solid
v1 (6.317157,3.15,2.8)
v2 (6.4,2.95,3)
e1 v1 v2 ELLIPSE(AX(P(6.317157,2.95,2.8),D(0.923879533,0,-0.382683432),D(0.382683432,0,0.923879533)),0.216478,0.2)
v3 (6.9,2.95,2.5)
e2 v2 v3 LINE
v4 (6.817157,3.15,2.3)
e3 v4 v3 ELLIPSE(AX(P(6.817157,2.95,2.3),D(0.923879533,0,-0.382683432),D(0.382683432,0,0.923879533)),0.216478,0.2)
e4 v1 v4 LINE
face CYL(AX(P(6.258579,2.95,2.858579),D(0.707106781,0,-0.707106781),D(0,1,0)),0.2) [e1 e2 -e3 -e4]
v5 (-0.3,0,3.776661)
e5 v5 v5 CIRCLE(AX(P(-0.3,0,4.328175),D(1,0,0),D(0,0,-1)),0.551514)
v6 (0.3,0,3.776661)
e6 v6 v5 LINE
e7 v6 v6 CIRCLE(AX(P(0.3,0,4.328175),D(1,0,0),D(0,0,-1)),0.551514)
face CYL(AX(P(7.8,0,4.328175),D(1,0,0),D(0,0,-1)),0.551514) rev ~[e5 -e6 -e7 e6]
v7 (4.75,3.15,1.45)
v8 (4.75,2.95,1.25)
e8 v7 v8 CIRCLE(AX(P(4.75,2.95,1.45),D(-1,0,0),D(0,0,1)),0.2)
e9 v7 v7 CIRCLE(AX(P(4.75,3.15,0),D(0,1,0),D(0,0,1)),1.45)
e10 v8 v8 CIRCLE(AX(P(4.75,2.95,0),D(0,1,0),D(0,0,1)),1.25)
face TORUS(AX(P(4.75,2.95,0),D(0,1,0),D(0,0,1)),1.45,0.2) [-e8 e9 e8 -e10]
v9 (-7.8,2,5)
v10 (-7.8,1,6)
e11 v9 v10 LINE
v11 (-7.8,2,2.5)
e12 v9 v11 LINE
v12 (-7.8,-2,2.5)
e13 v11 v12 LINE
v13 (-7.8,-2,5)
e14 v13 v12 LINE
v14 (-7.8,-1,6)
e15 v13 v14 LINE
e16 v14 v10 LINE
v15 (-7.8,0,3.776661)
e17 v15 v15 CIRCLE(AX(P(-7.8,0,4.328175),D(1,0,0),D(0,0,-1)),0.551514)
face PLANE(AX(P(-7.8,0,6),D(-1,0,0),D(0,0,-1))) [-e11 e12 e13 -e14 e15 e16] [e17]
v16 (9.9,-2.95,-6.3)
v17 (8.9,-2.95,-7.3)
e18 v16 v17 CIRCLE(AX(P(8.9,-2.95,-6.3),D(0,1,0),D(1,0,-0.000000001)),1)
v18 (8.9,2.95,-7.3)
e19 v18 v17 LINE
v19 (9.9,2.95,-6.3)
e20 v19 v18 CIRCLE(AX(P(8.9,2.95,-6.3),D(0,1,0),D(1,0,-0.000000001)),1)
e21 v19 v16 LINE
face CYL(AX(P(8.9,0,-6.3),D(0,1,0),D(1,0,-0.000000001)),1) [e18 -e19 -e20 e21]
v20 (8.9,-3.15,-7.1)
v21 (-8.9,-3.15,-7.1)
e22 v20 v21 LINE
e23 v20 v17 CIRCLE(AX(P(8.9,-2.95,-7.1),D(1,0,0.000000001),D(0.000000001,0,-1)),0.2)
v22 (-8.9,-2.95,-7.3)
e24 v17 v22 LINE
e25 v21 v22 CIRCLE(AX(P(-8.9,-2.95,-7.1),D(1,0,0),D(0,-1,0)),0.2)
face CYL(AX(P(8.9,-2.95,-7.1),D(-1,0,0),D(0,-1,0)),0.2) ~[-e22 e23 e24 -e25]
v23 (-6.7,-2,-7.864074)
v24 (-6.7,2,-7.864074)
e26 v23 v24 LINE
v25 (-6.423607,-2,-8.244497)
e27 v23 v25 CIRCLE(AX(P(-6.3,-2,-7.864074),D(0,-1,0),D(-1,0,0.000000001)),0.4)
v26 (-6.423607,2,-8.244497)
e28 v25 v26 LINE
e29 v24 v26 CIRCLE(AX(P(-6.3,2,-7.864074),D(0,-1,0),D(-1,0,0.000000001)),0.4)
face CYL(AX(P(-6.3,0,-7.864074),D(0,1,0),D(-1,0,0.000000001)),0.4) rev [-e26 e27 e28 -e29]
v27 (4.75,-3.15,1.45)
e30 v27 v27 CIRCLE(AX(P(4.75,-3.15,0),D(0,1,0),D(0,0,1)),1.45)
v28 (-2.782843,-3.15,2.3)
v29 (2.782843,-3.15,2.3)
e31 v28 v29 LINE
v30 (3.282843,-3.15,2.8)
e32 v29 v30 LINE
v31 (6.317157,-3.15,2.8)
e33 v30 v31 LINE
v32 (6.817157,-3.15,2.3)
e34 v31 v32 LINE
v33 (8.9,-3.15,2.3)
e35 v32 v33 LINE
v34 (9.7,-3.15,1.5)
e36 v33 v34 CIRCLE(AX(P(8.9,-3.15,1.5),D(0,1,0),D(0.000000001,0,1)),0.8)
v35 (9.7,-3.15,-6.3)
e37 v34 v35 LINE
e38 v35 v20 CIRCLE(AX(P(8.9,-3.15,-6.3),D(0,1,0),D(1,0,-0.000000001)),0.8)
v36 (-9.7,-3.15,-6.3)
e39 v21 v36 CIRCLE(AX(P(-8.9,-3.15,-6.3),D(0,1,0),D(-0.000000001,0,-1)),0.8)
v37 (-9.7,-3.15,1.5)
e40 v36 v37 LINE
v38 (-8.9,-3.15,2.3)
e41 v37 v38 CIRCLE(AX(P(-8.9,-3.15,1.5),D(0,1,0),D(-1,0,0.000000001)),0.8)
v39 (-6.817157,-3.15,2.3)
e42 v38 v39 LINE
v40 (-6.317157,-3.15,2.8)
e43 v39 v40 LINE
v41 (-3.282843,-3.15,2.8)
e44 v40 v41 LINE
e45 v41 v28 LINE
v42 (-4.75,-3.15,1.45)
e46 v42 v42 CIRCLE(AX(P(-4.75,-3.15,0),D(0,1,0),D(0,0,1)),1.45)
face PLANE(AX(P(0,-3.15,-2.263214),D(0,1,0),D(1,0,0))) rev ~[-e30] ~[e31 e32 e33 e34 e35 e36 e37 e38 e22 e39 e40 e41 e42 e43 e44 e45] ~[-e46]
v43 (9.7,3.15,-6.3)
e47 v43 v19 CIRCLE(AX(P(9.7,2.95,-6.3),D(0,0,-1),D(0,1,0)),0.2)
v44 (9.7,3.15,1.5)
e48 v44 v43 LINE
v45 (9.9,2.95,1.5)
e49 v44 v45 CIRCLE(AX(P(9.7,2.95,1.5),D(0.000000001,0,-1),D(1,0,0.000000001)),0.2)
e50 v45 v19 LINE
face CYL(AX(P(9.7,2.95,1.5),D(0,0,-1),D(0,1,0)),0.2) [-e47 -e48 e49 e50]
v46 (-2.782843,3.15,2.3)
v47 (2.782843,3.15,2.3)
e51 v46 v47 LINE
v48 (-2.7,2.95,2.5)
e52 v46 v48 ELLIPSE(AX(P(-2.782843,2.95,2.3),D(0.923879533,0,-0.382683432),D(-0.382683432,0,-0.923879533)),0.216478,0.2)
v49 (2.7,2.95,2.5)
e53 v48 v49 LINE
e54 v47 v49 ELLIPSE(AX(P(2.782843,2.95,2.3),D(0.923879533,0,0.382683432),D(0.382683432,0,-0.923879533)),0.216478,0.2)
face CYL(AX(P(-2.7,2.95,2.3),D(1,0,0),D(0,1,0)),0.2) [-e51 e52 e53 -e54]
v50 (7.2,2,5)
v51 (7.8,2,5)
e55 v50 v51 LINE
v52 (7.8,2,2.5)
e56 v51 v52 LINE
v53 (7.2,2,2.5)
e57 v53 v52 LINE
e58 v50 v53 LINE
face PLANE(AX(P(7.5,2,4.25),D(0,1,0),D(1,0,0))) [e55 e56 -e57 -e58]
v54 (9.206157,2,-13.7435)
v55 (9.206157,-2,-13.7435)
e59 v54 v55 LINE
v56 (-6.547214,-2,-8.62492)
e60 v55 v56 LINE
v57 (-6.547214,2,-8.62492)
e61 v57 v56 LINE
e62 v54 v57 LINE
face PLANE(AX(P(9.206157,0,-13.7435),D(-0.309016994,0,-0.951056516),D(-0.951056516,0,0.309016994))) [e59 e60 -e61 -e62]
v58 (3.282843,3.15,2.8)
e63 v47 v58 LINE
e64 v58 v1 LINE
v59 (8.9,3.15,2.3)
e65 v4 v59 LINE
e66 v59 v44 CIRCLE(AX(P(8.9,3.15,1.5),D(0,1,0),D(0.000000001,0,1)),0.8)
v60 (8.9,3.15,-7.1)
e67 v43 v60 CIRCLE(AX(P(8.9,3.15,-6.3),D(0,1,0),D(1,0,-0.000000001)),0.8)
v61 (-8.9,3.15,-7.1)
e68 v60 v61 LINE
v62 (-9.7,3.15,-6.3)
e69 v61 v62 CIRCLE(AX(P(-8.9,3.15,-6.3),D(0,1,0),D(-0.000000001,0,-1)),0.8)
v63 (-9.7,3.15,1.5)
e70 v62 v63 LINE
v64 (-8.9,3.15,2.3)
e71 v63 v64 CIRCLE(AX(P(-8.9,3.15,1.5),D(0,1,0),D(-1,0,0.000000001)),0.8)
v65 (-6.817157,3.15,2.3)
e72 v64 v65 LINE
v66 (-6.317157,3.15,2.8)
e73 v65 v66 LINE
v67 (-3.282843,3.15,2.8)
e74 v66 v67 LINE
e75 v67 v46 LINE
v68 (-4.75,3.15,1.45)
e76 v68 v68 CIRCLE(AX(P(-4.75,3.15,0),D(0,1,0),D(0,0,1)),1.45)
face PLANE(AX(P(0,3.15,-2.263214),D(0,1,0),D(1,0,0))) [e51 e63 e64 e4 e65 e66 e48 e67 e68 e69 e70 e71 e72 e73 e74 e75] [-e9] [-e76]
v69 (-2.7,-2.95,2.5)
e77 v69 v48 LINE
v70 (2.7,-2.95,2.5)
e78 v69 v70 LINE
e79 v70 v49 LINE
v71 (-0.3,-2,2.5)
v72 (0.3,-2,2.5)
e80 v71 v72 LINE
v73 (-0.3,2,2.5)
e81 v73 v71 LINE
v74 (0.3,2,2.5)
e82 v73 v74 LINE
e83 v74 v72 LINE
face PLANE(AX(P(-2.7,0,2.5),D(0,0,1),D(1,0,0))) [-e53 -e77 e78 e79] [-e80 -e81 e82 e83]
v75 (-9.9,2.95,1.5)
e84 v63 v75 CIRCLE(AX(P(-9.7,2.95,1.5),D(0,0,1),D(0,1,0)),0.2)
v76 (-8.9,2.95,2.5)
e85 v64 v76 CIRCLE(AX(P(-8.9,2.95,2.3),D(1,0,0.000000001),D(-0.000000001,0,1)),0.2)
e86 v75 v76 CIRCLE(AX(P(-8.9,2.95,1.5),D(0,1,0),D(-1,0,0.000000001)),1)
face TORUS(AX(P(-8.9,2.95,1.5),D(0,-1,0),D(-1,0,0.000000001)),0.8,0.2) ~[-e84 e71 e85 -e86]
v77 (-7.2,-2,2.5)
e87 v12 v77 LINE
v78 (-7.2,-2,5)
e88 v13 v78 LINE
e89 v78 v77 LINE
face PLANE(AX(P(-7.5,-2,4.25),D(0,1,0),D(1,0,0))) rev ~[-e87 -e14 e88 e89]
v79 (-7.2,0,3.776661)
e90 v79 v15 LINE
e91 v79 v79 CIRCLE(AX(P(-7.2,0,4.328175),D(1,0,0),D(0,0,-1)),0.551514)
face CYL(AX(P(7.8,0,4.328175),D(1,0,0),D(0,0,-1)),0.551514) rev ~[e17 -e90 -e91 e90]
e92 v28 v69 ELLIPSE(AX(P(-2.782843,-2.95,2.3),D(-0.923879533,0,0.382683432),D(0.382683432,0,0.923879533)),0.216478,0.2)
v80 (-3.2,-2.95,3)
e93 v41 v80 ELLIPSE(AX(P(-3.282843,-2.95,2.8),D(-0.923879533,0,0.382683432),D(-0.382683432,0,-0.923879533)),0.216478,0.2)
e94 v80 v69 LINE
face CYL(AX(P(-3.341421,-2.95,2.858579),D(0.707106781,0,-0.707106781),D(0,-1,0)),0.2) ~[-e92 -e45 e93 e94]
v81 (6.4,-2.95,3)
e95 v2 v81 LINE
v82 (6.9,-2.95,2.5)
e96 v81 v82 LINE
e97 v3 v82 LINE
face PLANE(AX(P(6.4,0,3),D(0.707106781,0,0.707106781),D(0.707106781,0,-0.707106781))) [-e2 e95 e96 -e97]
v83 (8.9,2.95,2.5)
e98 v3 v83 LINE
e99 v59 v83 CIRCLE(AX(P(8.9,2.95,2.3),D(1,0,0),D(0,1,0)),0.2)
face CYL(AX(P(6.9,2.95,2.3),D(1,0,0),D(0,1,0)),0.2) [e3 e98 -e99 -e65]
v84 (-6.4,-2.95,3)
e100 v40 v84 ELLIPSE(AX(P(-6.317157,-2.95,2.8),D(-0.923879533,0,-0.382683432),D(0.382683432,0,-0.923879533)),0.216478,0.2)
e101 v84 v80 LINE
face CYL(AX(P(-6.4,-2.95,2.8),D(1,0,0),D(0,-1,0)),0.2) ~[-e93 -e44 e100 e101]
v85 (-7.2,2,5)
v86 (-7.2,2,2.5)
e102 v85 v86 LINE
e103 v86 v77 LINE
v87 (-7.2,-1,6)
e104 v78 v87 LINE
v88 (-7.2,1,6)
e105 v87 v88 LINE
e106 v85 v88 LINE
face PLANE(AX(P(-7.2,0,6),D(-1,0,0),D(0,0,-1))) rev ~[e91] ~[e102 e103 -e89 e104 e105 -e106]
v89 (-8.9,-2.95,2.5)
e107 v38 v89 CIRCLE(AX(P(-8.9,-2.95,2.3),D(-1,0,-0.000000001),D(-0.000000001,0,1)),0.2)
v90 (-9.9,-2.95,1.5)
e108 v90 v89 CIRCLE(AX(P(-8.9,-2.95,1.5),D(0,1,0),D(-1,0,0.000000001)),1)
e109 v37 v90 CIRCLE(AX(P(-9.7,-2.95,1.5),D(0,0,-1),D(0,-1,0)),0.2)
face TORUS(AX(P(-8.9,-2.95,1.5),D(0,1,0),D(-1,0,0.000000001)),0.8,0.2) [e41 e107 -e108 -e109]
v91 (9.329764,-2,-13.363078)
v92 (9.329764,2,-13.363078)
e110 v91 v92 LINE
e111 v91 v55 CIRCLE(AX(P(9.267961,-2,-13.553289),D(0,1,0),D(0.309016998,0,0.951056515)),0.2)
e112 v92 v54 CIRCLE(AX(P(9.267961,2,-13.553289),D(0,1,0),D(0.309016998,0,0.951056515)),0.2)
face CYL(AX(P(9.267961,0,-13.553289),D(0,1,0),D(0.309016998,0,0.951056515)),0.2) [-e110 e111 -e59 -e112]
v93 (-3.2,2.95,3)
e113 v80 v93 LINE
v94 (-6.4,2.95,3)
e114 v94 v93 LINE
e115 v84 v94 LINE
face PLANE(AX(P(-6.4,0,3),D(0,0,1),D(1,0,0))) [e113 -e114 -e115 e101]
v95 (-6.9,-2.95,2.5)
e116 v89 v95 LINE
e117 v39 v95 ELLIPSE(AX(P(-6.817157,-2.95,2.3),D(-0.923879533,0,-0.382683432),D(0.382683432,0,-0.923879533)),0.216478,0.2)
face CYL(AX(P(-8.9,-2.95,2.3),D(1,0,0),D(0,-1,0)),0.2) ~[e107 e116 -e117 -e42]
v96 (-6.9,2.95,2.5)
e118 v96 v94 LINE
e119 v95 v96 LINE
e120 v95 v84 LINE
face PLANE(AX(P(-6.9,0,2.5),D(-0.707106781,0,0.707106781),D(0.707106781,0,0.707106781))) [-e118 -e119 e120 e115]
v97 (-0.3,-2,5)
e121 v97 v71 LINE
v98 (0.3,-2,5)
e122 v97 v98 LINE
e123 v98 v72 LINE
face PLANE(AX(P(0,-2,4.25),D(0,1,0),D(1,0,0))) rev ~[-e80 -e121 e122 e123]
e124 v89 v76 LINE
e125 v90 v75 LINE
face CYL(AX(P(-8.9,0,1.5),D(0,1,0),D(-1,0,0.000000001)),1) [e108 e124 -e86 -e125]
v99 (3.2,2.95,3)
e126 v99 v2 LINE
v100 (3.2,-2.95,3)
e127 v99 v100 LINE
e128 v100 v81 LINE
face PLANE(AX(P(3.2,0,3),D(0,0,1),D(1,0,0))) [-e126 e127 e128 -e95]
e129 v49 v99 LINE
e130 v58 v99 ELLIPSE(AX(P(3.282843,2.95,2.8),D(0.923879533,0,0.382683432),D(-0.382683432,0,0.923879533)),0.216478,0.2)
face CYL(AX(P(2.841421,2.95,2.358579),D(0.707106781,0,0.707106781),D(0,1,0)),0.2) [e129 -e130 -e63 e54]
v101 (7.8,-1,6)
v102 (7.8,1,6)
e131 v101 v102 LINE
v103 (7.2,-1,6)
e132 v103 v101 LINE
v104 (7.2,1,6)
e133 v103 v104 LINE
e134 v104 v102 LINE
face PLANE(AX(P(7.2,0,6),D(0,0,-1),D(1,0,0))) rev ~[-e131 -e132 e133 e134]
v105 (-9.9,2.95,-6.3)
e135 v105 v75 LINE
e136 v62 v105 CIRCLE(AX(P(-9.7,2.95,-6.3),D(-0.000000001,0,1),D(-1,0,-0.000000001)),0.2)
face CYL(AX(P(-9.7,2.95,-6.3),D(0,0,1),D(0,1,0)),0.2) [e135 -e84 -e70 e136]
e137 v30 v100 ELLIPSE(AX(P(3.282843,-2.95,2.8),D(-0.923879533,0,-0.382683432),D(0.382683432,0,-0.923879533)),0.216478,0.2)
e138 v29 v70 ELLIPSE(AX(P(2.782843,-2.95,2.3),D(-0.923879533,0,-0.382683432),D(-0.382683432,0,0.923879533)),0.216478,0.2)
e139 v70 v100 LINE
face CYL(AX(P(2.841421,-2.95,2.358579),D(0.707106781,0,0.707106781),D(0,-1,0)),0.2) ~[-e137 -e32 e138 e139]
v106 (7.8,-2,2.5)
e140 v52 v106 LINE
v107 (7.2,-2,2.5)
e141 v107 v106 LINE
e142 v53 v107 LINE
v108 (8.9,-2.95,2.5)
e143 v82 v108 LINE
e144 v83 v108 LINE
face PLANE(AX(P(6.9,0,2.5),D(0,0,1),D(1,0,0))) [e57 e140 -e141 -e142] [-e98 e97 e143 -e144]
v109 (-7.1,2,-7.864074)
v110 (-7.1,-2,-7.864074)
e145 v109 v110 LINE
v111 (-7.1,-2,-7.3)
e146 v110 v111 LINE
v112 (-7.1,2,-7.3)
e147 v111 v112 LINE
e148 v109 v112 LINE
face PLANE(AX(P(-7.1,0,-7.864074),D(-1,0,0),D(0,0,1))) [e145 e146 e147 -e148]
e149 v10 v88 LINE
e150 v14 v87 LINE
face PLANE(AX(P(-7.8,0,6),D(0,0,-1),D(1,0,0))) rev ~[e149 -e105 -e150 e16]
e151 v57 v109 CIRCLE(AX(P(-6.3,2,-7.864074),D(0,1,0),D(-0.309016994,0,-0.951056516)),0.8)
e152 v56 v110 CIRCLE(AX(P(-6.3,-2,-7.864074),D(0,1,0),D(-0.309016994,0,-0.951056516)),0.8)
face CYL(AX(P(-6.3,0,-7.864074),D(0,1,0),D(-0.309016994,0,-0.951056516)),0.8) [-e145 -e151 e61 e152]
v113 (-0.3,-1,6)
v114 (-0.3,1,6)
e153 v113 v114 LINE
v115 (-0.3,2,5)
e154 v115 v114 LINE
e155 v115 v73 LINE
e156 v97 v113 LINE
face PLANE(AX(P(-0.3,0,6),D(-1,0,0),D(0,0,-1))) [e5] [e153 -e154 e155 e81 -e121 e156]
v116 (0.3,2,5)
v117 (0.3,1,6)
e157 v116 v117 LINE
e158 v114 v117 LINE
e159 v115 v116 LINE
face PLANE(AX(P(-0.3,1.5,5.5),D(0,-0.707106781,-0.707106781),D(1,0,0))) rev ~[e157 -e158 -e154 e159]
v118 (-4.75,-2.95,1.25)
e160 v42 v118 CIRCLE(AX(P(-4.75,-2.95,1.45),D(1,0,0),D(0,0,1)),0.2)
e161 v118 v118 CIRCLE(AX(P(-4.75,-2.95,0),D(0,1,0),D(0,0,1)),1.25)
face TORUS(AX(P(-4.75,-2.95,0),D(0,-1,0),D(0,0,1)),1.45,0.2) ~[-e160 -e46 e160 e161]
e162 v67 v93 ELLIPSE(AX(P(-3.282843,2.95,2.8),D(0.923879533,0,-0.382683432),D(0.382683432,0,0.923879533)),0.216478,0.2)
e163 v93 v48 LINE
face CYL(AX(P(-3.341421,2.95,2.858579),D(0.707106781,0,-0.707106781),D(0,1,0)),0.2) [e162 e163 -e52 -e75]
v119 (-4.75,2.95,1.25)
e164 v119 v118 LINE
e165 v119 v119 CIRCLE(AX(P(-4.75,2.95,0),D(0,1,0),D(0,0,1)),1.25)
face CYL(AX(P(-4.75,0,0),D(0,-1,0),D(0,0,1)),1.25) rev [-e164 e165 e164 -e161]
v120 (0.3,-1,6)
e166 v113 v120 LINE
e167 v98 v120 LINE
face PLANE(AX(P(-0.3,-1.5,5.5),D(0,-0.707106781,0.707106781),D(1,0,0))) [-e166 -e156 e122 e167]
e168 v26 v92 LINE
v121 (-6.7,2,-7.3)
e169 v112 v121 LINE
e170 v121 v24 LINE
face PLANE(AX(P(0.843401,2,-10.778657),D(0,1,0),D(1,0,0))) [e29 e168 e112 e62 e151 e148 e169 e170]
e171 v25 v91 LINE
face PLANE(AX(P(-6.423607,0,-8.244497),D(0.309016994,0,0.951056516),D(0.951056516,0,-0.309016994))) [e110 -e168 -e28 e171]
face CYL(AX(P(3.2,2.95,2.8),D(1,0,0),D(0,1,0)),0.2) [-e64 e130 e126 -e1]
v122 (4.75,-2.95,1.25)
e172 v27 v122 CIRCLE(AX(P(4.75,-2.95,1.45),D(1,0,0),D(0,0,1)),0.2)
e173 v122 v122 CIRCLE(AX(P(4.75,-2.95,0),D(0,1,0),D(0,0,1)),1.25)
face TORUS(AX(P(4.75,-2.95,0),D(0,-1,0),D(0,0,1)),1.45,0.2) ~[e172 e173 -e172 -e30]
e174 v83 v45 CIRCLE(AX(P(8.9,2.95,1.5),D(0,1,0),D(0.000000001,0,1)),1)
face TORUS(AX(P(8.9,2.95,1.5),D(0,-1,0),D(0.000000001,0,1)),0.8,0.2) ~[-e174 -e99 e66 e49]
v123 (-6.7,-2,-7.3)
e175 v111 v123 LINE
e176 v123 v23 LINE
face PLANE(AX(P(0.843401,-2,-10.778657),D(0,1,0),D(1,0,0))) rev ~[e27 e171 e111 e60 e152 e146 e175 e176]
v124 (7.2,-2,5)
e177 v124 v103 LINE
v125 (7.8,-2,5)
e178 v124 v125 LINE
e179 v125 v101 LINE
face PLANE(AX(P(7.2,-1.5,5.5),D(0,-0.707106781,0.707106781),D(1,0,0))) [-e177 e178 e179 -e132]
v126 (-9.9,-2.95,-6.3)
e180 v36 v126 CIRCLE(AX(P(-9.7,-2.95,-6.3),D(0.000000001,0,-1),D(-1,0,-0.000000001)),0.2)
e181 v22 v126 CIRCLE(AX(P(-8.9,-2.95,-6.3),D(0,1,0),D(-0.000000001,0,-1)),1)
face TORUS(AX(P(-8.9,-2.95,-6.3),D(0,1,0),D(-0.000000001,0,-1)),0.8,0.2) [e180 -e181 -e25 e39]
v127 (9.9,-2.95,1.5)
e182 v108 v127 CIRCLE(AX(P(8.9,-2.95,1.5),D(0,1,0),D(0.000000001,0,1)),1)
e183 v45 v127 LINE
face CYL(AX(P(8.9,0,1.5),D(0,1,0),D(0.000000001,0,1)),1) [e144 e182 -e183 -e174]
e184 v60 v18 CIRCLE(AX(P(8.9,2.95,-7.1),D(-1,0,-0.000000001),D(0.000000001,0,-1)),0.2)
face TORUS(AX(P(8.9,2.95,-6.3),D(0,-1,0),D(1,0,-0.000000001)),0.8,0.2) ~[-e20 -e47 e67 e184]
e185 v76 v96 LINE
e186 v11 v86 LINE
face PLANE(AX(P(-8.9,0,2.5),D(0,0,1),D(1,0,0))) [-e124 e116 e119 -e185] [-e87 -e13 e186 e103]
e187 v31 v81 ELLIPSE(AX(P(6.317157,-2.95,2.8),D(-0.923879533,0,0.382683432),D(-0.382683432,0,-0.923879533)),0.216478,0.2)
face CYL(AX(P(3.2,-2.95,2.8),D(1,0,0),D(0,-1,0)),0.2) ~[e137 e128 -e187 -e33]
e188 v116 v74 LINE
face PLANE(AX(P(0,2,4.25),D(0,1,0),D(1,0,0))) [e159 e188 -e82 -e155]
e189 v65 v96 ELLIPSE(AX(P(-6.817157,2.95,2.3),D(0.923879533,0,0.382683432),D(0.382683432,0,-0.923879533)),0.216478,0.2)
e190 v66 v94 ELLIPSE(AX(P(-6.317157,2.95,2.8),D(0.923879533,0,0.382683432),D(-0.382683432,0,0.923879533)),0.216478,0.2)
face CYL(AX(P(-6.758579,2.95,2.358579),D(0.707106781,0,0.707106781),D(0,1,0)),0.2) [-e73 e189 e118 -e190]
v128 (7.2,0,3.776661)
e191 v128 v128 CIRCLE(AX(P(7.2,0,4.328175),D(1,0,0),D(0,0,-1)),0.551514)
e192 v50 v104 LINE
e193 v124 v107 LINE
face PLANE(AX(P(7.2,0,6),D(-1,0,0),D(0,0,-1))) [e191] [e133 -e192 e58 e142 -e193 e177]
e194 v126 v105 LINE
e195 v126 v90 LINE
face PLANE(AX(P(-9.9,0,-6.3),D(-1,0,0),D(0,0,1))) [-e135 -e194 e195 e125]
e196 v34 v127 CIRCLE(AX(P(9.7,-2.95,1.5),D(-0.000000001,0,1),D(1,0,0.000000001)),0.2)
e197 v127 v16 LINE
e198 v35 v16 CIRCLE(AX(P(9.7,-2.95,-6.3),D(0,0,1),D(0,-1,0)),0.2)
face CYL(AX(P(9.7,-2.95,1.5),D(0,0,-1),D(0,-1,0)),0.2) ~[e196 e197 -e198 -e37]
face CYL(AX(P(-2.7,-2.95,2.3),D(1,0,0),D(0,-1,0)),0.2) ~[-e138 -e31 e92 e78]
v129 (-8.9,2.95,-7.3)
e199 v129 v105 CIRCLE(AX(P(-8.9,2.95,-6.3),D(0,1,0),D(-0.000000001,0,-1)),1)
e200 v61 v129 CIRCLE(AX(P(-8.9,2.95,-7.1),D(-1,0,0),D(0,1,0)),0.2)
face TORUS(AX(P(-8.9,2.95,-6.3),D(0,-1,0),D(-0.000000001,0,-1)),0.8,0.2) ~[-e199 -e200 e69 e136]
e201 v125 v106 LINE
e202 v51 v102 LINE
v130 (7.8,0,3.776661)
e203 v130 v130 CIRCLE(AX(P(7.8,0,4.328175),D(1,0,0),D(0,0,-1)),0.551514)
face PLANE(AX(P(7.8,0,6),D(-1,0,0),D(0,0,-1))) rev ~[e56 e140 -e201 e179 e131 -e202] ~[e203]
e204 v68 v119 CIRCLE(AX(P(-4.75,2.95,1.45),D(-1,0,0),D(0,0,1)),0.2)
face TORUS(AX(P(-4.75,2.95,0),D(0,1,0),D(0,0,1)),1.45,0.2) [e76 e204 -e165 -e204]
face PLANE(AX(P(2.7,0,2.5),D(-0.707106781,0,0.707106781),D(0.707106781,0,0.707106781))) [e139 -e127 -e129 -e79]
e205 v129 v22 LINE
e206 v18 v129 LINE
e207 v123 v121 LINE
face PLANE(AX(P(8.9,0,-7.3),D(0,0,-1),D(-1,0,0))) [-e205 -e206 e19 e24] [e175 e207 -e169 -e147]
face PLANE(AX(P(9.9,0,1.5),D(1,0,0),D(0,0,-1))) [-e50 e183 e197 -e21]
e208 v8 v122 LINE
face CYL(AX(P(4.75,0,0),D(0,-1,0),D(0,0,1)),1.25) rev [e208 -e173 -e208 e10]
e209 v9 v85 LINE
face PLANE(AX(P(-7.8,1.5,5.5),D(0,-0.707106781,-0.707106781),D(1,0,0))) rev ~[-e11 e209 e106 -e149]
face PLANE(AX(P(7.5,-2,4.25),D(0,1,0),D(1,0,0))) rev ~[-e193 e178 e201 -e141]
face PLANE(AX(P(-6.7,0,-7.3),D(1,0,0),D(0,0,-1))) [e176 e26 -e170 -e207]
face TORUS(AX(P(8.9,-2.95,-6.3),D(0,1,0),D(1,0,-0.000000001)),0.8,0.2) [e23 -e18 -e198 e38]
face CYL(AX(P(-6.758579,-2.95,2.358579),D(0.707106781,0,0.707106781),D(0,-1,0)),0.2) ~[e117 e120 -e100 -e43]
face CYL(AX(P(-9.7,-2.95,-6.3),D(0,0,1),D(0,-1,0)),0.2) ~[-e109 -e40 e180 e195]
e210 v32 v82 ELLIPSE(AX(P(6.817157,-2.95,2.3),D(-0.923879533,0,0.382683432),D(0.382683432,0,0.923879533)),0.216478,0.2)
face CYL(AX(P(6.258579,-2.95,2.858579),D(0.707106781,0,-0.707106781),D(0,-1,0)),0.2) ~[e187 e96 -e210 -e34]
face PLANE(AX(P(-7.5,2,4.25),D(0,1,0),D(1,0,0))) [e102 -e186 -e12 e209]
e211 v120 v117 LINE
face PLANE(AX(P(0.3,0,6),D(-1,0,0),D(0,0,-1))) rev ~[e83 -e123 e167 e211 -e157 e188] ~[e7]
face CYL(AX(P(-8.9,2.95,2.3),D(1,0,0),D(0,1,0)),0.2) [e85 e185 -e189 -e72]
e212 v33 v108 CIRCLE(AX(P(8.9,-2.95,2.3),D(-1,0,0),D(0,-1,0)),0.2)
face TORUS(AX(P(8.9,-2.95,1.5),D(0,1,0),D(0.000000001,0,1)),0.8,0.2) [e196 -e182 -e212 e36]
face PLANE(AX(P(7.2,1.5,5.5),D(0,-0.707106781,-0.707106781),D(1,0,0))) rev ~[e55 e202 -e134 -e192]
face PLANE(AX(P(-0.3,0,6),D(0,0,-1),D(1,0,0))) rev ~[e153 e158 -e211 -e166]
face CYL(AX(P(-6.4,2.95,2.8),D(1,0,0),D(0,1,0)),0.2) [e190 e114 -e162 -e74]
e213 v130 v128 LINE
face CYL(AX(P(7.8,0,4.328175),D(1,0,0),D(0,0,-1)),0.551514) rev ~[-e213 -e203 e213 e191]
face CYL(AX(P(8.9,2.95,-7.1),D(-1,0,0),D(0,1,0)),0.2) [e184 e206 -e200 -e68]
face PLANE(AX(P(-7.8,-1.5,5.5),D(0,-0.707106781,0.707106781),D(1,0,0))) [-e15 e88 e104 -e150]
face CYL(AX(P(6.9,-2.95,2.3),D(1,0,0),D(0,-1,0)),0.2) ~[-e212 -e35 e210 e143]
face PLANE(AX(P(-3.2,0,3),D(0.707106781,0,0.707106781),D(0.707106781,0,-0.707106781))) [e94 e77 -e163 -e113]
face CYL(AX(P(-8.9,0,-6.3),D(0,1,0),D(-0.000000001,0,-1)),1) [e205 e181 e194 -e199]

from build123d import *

# Parameters (mm, degrees)
SKETCH_1_R          = 1.25
EXTRUDE_1_DEPTH     = 3.15
SKETCH_1_3_W        = 0.6
SKETCH_1_3_H        = 3.5
EXTRUDE_2_DEPTH     = 2
FILLET_1_R          = 0.2
CHAMFER_1_SIZE      = 1
SKETCH_2_R          = 0.551513833
CUT_EXTRUDE_1_DEPTH = 23.635491064


with BuildPart() as part:
    # 草图1 → 凸台-拉伸1 (new, symmetric)
    with BuildSketch(Plane(origin=(0, 0, 0), x_dir=(1, 0, 0), z_dir=(0, 1, 0))):
        with BuildLine():
            ThreePointArc((-8.9, 7.3), (-9.607106781, 7.007106781), (-9.9, 6.3))
            Line((-9.9, 6.3), (-9.9, -1.5))
            ThreePointArc((-9.9, -1.5), (-9.607106781, -2.207106781), (-8.9, -2.5))
            Line((-8.9, -2.5), (-7.8, -2.5))
            Line((-7.8, -2.5), (-7.2, -2.5))
            Line((-7.2, -2.5), (-6.9, -2.5))
            Line((-6.9, -2.5), (-6.4, -3))
            Line((-6.4, -3), (-3.2, -3))
            Line((-3.2, -3), (-2.7, -2.5))
            Line((-2.7, -2.5), (-0.3, -2.5))
            Line((-0.3, -2.5), (0.3, -2.5))
            Line((0.3, -2.5), (2.7, -2.5))
            Line((2.7, -2.5), (3.2, -3))
            Line((3.2, -3), (6.4, -3))
            Line((6.4, -3), (6.9, -2.5))
            Line((6.9, -2.5), (7.2, -2.5))
            Line((7.2, -2.5), (7.8, -2.5))
            Line((7.8, -2.5), (8.9, -2.5))
            ThreePointArc((8.9, -2.5), (9.607106781, -2.207106781), (9.9, -1.5))
            Line((9.9, -1.5), (9.9, 6.3))
            ThreePointArc((9.9, 6.3), (9.607106781, 7.007106781), (8.9, 7.3))
            Line((8.9, 7.3), (-6.7, 7.3))
            Line((-6.7, 7.3), (-7.1, 7.3))
            Line((-7.1, 7.3), (-8.9, 7.3))
        make_face()
        with Locations((-4.75, 0)):
            Circle(SKETCH_1_R, mode=Mode.SUBTRACT)
        with Locations((4.75, 0)):
            Circle(SKETCH_1_R, mode=Mode.SUBTRACT)
    extrude(amount=EXTRUDE_1_DEPTH, both=True)

    # 草图1<3> → 凸台-拉伸2 (add, symmetric)
    with BuildSketch(Plane(origin=(0, 0, 0), x_dir=(1, 0, 0), z_dir=(0, 1, 0))):
        with BuildLine():
            Line((-7.1, 7.864074483), (-7.1, 7.3))
            Line((-7.1, 7.3), (-6.7, 7.3))
            Line((-6.7, 7.3), (-6.7, 7.864074483))
            ThreePointArc((-6.7, 7.864074483), (-6.623606798, 8.099188584), (-6.423606798, 8.24449709))
            Line((-6.423606798, 8.24449709), (9.329764176, 13.363077601))
            ThreePointArc((9.329764176, 13.363077601), (9.45817208, 13.615092303), (9.206157378, 13.743500208))
            Line((9.206157378, 13.743500208), (-6.547213595, 8.624919696))
            ThreePointArc((-6.547213595, 8.624919696), (-6.947213595, 8.334302685), (-7.1, 7.864074483))
        make_face()
        with Locations((-7.5, -4.25)):
            Rectangle(SKETCH_1_3_W, SKETCH_1_3_H)
        with Locations((7.5, -4.25)):
            Rectangle(SKETCH_1_3_W, SKETCH_1_3_H)
        with Locations((0, -4.25)):
            Rectangle(SKETCH_1_3_W, SKETCH_1_3_H)
    extrude(amount=EXTRUDE_2_DEPTH, both=True)

    # 圆角1
    fillet_1_edges = [part.edges().sort_by_distance(p)[0] for p in [
        (-7.9, -3.15, 2.5),
        (-9.607106781, -3.15, 2.207106781),
        (-9.9, -3.15, -2.4),
        (-9.607106781, -3.15, -7.007106781),
        (0, -3.15, -7.3),
        (9.607106781, -3.15, -7.007106781),
        (7.9, -3.15, 2.5),
        (9.607106781, -3.15, 2.207106781),
        (-7.9, 3.15, 2.5),
        (-9.607106781, 3.15, 2.207106781),
        (-9.9, 3.15, -2.4),
        (-9.607106781, 3.15, -7.007106781),
        (0, 3.15, -7.3),
        (9.607106781, 3.15, -7.007106781),
        (7.9, 3.15, 2.5),
        (9.607106781, 3.15, 2.207106781),
        (3.5, 3.15, 0),
        (-6, 3.15, 0),
        (6.65, 3.15, 2.75),
        (4.8, 3.15, 3),
        (2.95, 3.15, 2.75),
        (0, 3.15, 2.5),
        (-2.95, 3.15, 2.75),
        (-4.8, 3.15, 3),
        (-6.65, 3.15, 2.75),
        (-6.65, -3.15, 2.75),
        (-4.8, -3.15, 3),
        (-2.95, -3.15, 2.75),
        (6.65, -3.15, 2.75),
        (4.8, -3.15, 3),
        (2.95, -3.15, 2.75),
        (0, -3.15, 2.5),
        (-6, -3.15, 0),
        (3.5, -3.15, 0),
        (9.9, -3.15, -2.4),
        (9.9, 3.15, -2.4),
    ]]
    fillet(fillet_1_edges, radius=FILLET_1_R)

    # 倒角1
    chamfer_1_edges = [part.edges().sort_by_distance(p)[0] for p in [
        (-7.5, -2, 6),
        (0, -2, 6),
        (7.5, -2, 6),
        (7.5, 2, 6),
        (0, 2, 6),
        (-7.5, 2, 6),
    ]]
    chamfer(chamfer_1_edges, length=CHAMFER_1_SIZE)

    # 草图2 → 切除-拉伸1 (cut, through all)
    with BuildSketch(Plane(origin=(7.8, 0, 0), x_dir=(0, 0, -1), z_dir=(1, 0, 0))):
        with Locations((-4.328174901, 0)):
            Circle(SKETCH_2_R)
    extrude(amount=-CUT_EXTRUDE_1_DEPTH, mode=Mode.SUBTRACT)


solid = part.part
